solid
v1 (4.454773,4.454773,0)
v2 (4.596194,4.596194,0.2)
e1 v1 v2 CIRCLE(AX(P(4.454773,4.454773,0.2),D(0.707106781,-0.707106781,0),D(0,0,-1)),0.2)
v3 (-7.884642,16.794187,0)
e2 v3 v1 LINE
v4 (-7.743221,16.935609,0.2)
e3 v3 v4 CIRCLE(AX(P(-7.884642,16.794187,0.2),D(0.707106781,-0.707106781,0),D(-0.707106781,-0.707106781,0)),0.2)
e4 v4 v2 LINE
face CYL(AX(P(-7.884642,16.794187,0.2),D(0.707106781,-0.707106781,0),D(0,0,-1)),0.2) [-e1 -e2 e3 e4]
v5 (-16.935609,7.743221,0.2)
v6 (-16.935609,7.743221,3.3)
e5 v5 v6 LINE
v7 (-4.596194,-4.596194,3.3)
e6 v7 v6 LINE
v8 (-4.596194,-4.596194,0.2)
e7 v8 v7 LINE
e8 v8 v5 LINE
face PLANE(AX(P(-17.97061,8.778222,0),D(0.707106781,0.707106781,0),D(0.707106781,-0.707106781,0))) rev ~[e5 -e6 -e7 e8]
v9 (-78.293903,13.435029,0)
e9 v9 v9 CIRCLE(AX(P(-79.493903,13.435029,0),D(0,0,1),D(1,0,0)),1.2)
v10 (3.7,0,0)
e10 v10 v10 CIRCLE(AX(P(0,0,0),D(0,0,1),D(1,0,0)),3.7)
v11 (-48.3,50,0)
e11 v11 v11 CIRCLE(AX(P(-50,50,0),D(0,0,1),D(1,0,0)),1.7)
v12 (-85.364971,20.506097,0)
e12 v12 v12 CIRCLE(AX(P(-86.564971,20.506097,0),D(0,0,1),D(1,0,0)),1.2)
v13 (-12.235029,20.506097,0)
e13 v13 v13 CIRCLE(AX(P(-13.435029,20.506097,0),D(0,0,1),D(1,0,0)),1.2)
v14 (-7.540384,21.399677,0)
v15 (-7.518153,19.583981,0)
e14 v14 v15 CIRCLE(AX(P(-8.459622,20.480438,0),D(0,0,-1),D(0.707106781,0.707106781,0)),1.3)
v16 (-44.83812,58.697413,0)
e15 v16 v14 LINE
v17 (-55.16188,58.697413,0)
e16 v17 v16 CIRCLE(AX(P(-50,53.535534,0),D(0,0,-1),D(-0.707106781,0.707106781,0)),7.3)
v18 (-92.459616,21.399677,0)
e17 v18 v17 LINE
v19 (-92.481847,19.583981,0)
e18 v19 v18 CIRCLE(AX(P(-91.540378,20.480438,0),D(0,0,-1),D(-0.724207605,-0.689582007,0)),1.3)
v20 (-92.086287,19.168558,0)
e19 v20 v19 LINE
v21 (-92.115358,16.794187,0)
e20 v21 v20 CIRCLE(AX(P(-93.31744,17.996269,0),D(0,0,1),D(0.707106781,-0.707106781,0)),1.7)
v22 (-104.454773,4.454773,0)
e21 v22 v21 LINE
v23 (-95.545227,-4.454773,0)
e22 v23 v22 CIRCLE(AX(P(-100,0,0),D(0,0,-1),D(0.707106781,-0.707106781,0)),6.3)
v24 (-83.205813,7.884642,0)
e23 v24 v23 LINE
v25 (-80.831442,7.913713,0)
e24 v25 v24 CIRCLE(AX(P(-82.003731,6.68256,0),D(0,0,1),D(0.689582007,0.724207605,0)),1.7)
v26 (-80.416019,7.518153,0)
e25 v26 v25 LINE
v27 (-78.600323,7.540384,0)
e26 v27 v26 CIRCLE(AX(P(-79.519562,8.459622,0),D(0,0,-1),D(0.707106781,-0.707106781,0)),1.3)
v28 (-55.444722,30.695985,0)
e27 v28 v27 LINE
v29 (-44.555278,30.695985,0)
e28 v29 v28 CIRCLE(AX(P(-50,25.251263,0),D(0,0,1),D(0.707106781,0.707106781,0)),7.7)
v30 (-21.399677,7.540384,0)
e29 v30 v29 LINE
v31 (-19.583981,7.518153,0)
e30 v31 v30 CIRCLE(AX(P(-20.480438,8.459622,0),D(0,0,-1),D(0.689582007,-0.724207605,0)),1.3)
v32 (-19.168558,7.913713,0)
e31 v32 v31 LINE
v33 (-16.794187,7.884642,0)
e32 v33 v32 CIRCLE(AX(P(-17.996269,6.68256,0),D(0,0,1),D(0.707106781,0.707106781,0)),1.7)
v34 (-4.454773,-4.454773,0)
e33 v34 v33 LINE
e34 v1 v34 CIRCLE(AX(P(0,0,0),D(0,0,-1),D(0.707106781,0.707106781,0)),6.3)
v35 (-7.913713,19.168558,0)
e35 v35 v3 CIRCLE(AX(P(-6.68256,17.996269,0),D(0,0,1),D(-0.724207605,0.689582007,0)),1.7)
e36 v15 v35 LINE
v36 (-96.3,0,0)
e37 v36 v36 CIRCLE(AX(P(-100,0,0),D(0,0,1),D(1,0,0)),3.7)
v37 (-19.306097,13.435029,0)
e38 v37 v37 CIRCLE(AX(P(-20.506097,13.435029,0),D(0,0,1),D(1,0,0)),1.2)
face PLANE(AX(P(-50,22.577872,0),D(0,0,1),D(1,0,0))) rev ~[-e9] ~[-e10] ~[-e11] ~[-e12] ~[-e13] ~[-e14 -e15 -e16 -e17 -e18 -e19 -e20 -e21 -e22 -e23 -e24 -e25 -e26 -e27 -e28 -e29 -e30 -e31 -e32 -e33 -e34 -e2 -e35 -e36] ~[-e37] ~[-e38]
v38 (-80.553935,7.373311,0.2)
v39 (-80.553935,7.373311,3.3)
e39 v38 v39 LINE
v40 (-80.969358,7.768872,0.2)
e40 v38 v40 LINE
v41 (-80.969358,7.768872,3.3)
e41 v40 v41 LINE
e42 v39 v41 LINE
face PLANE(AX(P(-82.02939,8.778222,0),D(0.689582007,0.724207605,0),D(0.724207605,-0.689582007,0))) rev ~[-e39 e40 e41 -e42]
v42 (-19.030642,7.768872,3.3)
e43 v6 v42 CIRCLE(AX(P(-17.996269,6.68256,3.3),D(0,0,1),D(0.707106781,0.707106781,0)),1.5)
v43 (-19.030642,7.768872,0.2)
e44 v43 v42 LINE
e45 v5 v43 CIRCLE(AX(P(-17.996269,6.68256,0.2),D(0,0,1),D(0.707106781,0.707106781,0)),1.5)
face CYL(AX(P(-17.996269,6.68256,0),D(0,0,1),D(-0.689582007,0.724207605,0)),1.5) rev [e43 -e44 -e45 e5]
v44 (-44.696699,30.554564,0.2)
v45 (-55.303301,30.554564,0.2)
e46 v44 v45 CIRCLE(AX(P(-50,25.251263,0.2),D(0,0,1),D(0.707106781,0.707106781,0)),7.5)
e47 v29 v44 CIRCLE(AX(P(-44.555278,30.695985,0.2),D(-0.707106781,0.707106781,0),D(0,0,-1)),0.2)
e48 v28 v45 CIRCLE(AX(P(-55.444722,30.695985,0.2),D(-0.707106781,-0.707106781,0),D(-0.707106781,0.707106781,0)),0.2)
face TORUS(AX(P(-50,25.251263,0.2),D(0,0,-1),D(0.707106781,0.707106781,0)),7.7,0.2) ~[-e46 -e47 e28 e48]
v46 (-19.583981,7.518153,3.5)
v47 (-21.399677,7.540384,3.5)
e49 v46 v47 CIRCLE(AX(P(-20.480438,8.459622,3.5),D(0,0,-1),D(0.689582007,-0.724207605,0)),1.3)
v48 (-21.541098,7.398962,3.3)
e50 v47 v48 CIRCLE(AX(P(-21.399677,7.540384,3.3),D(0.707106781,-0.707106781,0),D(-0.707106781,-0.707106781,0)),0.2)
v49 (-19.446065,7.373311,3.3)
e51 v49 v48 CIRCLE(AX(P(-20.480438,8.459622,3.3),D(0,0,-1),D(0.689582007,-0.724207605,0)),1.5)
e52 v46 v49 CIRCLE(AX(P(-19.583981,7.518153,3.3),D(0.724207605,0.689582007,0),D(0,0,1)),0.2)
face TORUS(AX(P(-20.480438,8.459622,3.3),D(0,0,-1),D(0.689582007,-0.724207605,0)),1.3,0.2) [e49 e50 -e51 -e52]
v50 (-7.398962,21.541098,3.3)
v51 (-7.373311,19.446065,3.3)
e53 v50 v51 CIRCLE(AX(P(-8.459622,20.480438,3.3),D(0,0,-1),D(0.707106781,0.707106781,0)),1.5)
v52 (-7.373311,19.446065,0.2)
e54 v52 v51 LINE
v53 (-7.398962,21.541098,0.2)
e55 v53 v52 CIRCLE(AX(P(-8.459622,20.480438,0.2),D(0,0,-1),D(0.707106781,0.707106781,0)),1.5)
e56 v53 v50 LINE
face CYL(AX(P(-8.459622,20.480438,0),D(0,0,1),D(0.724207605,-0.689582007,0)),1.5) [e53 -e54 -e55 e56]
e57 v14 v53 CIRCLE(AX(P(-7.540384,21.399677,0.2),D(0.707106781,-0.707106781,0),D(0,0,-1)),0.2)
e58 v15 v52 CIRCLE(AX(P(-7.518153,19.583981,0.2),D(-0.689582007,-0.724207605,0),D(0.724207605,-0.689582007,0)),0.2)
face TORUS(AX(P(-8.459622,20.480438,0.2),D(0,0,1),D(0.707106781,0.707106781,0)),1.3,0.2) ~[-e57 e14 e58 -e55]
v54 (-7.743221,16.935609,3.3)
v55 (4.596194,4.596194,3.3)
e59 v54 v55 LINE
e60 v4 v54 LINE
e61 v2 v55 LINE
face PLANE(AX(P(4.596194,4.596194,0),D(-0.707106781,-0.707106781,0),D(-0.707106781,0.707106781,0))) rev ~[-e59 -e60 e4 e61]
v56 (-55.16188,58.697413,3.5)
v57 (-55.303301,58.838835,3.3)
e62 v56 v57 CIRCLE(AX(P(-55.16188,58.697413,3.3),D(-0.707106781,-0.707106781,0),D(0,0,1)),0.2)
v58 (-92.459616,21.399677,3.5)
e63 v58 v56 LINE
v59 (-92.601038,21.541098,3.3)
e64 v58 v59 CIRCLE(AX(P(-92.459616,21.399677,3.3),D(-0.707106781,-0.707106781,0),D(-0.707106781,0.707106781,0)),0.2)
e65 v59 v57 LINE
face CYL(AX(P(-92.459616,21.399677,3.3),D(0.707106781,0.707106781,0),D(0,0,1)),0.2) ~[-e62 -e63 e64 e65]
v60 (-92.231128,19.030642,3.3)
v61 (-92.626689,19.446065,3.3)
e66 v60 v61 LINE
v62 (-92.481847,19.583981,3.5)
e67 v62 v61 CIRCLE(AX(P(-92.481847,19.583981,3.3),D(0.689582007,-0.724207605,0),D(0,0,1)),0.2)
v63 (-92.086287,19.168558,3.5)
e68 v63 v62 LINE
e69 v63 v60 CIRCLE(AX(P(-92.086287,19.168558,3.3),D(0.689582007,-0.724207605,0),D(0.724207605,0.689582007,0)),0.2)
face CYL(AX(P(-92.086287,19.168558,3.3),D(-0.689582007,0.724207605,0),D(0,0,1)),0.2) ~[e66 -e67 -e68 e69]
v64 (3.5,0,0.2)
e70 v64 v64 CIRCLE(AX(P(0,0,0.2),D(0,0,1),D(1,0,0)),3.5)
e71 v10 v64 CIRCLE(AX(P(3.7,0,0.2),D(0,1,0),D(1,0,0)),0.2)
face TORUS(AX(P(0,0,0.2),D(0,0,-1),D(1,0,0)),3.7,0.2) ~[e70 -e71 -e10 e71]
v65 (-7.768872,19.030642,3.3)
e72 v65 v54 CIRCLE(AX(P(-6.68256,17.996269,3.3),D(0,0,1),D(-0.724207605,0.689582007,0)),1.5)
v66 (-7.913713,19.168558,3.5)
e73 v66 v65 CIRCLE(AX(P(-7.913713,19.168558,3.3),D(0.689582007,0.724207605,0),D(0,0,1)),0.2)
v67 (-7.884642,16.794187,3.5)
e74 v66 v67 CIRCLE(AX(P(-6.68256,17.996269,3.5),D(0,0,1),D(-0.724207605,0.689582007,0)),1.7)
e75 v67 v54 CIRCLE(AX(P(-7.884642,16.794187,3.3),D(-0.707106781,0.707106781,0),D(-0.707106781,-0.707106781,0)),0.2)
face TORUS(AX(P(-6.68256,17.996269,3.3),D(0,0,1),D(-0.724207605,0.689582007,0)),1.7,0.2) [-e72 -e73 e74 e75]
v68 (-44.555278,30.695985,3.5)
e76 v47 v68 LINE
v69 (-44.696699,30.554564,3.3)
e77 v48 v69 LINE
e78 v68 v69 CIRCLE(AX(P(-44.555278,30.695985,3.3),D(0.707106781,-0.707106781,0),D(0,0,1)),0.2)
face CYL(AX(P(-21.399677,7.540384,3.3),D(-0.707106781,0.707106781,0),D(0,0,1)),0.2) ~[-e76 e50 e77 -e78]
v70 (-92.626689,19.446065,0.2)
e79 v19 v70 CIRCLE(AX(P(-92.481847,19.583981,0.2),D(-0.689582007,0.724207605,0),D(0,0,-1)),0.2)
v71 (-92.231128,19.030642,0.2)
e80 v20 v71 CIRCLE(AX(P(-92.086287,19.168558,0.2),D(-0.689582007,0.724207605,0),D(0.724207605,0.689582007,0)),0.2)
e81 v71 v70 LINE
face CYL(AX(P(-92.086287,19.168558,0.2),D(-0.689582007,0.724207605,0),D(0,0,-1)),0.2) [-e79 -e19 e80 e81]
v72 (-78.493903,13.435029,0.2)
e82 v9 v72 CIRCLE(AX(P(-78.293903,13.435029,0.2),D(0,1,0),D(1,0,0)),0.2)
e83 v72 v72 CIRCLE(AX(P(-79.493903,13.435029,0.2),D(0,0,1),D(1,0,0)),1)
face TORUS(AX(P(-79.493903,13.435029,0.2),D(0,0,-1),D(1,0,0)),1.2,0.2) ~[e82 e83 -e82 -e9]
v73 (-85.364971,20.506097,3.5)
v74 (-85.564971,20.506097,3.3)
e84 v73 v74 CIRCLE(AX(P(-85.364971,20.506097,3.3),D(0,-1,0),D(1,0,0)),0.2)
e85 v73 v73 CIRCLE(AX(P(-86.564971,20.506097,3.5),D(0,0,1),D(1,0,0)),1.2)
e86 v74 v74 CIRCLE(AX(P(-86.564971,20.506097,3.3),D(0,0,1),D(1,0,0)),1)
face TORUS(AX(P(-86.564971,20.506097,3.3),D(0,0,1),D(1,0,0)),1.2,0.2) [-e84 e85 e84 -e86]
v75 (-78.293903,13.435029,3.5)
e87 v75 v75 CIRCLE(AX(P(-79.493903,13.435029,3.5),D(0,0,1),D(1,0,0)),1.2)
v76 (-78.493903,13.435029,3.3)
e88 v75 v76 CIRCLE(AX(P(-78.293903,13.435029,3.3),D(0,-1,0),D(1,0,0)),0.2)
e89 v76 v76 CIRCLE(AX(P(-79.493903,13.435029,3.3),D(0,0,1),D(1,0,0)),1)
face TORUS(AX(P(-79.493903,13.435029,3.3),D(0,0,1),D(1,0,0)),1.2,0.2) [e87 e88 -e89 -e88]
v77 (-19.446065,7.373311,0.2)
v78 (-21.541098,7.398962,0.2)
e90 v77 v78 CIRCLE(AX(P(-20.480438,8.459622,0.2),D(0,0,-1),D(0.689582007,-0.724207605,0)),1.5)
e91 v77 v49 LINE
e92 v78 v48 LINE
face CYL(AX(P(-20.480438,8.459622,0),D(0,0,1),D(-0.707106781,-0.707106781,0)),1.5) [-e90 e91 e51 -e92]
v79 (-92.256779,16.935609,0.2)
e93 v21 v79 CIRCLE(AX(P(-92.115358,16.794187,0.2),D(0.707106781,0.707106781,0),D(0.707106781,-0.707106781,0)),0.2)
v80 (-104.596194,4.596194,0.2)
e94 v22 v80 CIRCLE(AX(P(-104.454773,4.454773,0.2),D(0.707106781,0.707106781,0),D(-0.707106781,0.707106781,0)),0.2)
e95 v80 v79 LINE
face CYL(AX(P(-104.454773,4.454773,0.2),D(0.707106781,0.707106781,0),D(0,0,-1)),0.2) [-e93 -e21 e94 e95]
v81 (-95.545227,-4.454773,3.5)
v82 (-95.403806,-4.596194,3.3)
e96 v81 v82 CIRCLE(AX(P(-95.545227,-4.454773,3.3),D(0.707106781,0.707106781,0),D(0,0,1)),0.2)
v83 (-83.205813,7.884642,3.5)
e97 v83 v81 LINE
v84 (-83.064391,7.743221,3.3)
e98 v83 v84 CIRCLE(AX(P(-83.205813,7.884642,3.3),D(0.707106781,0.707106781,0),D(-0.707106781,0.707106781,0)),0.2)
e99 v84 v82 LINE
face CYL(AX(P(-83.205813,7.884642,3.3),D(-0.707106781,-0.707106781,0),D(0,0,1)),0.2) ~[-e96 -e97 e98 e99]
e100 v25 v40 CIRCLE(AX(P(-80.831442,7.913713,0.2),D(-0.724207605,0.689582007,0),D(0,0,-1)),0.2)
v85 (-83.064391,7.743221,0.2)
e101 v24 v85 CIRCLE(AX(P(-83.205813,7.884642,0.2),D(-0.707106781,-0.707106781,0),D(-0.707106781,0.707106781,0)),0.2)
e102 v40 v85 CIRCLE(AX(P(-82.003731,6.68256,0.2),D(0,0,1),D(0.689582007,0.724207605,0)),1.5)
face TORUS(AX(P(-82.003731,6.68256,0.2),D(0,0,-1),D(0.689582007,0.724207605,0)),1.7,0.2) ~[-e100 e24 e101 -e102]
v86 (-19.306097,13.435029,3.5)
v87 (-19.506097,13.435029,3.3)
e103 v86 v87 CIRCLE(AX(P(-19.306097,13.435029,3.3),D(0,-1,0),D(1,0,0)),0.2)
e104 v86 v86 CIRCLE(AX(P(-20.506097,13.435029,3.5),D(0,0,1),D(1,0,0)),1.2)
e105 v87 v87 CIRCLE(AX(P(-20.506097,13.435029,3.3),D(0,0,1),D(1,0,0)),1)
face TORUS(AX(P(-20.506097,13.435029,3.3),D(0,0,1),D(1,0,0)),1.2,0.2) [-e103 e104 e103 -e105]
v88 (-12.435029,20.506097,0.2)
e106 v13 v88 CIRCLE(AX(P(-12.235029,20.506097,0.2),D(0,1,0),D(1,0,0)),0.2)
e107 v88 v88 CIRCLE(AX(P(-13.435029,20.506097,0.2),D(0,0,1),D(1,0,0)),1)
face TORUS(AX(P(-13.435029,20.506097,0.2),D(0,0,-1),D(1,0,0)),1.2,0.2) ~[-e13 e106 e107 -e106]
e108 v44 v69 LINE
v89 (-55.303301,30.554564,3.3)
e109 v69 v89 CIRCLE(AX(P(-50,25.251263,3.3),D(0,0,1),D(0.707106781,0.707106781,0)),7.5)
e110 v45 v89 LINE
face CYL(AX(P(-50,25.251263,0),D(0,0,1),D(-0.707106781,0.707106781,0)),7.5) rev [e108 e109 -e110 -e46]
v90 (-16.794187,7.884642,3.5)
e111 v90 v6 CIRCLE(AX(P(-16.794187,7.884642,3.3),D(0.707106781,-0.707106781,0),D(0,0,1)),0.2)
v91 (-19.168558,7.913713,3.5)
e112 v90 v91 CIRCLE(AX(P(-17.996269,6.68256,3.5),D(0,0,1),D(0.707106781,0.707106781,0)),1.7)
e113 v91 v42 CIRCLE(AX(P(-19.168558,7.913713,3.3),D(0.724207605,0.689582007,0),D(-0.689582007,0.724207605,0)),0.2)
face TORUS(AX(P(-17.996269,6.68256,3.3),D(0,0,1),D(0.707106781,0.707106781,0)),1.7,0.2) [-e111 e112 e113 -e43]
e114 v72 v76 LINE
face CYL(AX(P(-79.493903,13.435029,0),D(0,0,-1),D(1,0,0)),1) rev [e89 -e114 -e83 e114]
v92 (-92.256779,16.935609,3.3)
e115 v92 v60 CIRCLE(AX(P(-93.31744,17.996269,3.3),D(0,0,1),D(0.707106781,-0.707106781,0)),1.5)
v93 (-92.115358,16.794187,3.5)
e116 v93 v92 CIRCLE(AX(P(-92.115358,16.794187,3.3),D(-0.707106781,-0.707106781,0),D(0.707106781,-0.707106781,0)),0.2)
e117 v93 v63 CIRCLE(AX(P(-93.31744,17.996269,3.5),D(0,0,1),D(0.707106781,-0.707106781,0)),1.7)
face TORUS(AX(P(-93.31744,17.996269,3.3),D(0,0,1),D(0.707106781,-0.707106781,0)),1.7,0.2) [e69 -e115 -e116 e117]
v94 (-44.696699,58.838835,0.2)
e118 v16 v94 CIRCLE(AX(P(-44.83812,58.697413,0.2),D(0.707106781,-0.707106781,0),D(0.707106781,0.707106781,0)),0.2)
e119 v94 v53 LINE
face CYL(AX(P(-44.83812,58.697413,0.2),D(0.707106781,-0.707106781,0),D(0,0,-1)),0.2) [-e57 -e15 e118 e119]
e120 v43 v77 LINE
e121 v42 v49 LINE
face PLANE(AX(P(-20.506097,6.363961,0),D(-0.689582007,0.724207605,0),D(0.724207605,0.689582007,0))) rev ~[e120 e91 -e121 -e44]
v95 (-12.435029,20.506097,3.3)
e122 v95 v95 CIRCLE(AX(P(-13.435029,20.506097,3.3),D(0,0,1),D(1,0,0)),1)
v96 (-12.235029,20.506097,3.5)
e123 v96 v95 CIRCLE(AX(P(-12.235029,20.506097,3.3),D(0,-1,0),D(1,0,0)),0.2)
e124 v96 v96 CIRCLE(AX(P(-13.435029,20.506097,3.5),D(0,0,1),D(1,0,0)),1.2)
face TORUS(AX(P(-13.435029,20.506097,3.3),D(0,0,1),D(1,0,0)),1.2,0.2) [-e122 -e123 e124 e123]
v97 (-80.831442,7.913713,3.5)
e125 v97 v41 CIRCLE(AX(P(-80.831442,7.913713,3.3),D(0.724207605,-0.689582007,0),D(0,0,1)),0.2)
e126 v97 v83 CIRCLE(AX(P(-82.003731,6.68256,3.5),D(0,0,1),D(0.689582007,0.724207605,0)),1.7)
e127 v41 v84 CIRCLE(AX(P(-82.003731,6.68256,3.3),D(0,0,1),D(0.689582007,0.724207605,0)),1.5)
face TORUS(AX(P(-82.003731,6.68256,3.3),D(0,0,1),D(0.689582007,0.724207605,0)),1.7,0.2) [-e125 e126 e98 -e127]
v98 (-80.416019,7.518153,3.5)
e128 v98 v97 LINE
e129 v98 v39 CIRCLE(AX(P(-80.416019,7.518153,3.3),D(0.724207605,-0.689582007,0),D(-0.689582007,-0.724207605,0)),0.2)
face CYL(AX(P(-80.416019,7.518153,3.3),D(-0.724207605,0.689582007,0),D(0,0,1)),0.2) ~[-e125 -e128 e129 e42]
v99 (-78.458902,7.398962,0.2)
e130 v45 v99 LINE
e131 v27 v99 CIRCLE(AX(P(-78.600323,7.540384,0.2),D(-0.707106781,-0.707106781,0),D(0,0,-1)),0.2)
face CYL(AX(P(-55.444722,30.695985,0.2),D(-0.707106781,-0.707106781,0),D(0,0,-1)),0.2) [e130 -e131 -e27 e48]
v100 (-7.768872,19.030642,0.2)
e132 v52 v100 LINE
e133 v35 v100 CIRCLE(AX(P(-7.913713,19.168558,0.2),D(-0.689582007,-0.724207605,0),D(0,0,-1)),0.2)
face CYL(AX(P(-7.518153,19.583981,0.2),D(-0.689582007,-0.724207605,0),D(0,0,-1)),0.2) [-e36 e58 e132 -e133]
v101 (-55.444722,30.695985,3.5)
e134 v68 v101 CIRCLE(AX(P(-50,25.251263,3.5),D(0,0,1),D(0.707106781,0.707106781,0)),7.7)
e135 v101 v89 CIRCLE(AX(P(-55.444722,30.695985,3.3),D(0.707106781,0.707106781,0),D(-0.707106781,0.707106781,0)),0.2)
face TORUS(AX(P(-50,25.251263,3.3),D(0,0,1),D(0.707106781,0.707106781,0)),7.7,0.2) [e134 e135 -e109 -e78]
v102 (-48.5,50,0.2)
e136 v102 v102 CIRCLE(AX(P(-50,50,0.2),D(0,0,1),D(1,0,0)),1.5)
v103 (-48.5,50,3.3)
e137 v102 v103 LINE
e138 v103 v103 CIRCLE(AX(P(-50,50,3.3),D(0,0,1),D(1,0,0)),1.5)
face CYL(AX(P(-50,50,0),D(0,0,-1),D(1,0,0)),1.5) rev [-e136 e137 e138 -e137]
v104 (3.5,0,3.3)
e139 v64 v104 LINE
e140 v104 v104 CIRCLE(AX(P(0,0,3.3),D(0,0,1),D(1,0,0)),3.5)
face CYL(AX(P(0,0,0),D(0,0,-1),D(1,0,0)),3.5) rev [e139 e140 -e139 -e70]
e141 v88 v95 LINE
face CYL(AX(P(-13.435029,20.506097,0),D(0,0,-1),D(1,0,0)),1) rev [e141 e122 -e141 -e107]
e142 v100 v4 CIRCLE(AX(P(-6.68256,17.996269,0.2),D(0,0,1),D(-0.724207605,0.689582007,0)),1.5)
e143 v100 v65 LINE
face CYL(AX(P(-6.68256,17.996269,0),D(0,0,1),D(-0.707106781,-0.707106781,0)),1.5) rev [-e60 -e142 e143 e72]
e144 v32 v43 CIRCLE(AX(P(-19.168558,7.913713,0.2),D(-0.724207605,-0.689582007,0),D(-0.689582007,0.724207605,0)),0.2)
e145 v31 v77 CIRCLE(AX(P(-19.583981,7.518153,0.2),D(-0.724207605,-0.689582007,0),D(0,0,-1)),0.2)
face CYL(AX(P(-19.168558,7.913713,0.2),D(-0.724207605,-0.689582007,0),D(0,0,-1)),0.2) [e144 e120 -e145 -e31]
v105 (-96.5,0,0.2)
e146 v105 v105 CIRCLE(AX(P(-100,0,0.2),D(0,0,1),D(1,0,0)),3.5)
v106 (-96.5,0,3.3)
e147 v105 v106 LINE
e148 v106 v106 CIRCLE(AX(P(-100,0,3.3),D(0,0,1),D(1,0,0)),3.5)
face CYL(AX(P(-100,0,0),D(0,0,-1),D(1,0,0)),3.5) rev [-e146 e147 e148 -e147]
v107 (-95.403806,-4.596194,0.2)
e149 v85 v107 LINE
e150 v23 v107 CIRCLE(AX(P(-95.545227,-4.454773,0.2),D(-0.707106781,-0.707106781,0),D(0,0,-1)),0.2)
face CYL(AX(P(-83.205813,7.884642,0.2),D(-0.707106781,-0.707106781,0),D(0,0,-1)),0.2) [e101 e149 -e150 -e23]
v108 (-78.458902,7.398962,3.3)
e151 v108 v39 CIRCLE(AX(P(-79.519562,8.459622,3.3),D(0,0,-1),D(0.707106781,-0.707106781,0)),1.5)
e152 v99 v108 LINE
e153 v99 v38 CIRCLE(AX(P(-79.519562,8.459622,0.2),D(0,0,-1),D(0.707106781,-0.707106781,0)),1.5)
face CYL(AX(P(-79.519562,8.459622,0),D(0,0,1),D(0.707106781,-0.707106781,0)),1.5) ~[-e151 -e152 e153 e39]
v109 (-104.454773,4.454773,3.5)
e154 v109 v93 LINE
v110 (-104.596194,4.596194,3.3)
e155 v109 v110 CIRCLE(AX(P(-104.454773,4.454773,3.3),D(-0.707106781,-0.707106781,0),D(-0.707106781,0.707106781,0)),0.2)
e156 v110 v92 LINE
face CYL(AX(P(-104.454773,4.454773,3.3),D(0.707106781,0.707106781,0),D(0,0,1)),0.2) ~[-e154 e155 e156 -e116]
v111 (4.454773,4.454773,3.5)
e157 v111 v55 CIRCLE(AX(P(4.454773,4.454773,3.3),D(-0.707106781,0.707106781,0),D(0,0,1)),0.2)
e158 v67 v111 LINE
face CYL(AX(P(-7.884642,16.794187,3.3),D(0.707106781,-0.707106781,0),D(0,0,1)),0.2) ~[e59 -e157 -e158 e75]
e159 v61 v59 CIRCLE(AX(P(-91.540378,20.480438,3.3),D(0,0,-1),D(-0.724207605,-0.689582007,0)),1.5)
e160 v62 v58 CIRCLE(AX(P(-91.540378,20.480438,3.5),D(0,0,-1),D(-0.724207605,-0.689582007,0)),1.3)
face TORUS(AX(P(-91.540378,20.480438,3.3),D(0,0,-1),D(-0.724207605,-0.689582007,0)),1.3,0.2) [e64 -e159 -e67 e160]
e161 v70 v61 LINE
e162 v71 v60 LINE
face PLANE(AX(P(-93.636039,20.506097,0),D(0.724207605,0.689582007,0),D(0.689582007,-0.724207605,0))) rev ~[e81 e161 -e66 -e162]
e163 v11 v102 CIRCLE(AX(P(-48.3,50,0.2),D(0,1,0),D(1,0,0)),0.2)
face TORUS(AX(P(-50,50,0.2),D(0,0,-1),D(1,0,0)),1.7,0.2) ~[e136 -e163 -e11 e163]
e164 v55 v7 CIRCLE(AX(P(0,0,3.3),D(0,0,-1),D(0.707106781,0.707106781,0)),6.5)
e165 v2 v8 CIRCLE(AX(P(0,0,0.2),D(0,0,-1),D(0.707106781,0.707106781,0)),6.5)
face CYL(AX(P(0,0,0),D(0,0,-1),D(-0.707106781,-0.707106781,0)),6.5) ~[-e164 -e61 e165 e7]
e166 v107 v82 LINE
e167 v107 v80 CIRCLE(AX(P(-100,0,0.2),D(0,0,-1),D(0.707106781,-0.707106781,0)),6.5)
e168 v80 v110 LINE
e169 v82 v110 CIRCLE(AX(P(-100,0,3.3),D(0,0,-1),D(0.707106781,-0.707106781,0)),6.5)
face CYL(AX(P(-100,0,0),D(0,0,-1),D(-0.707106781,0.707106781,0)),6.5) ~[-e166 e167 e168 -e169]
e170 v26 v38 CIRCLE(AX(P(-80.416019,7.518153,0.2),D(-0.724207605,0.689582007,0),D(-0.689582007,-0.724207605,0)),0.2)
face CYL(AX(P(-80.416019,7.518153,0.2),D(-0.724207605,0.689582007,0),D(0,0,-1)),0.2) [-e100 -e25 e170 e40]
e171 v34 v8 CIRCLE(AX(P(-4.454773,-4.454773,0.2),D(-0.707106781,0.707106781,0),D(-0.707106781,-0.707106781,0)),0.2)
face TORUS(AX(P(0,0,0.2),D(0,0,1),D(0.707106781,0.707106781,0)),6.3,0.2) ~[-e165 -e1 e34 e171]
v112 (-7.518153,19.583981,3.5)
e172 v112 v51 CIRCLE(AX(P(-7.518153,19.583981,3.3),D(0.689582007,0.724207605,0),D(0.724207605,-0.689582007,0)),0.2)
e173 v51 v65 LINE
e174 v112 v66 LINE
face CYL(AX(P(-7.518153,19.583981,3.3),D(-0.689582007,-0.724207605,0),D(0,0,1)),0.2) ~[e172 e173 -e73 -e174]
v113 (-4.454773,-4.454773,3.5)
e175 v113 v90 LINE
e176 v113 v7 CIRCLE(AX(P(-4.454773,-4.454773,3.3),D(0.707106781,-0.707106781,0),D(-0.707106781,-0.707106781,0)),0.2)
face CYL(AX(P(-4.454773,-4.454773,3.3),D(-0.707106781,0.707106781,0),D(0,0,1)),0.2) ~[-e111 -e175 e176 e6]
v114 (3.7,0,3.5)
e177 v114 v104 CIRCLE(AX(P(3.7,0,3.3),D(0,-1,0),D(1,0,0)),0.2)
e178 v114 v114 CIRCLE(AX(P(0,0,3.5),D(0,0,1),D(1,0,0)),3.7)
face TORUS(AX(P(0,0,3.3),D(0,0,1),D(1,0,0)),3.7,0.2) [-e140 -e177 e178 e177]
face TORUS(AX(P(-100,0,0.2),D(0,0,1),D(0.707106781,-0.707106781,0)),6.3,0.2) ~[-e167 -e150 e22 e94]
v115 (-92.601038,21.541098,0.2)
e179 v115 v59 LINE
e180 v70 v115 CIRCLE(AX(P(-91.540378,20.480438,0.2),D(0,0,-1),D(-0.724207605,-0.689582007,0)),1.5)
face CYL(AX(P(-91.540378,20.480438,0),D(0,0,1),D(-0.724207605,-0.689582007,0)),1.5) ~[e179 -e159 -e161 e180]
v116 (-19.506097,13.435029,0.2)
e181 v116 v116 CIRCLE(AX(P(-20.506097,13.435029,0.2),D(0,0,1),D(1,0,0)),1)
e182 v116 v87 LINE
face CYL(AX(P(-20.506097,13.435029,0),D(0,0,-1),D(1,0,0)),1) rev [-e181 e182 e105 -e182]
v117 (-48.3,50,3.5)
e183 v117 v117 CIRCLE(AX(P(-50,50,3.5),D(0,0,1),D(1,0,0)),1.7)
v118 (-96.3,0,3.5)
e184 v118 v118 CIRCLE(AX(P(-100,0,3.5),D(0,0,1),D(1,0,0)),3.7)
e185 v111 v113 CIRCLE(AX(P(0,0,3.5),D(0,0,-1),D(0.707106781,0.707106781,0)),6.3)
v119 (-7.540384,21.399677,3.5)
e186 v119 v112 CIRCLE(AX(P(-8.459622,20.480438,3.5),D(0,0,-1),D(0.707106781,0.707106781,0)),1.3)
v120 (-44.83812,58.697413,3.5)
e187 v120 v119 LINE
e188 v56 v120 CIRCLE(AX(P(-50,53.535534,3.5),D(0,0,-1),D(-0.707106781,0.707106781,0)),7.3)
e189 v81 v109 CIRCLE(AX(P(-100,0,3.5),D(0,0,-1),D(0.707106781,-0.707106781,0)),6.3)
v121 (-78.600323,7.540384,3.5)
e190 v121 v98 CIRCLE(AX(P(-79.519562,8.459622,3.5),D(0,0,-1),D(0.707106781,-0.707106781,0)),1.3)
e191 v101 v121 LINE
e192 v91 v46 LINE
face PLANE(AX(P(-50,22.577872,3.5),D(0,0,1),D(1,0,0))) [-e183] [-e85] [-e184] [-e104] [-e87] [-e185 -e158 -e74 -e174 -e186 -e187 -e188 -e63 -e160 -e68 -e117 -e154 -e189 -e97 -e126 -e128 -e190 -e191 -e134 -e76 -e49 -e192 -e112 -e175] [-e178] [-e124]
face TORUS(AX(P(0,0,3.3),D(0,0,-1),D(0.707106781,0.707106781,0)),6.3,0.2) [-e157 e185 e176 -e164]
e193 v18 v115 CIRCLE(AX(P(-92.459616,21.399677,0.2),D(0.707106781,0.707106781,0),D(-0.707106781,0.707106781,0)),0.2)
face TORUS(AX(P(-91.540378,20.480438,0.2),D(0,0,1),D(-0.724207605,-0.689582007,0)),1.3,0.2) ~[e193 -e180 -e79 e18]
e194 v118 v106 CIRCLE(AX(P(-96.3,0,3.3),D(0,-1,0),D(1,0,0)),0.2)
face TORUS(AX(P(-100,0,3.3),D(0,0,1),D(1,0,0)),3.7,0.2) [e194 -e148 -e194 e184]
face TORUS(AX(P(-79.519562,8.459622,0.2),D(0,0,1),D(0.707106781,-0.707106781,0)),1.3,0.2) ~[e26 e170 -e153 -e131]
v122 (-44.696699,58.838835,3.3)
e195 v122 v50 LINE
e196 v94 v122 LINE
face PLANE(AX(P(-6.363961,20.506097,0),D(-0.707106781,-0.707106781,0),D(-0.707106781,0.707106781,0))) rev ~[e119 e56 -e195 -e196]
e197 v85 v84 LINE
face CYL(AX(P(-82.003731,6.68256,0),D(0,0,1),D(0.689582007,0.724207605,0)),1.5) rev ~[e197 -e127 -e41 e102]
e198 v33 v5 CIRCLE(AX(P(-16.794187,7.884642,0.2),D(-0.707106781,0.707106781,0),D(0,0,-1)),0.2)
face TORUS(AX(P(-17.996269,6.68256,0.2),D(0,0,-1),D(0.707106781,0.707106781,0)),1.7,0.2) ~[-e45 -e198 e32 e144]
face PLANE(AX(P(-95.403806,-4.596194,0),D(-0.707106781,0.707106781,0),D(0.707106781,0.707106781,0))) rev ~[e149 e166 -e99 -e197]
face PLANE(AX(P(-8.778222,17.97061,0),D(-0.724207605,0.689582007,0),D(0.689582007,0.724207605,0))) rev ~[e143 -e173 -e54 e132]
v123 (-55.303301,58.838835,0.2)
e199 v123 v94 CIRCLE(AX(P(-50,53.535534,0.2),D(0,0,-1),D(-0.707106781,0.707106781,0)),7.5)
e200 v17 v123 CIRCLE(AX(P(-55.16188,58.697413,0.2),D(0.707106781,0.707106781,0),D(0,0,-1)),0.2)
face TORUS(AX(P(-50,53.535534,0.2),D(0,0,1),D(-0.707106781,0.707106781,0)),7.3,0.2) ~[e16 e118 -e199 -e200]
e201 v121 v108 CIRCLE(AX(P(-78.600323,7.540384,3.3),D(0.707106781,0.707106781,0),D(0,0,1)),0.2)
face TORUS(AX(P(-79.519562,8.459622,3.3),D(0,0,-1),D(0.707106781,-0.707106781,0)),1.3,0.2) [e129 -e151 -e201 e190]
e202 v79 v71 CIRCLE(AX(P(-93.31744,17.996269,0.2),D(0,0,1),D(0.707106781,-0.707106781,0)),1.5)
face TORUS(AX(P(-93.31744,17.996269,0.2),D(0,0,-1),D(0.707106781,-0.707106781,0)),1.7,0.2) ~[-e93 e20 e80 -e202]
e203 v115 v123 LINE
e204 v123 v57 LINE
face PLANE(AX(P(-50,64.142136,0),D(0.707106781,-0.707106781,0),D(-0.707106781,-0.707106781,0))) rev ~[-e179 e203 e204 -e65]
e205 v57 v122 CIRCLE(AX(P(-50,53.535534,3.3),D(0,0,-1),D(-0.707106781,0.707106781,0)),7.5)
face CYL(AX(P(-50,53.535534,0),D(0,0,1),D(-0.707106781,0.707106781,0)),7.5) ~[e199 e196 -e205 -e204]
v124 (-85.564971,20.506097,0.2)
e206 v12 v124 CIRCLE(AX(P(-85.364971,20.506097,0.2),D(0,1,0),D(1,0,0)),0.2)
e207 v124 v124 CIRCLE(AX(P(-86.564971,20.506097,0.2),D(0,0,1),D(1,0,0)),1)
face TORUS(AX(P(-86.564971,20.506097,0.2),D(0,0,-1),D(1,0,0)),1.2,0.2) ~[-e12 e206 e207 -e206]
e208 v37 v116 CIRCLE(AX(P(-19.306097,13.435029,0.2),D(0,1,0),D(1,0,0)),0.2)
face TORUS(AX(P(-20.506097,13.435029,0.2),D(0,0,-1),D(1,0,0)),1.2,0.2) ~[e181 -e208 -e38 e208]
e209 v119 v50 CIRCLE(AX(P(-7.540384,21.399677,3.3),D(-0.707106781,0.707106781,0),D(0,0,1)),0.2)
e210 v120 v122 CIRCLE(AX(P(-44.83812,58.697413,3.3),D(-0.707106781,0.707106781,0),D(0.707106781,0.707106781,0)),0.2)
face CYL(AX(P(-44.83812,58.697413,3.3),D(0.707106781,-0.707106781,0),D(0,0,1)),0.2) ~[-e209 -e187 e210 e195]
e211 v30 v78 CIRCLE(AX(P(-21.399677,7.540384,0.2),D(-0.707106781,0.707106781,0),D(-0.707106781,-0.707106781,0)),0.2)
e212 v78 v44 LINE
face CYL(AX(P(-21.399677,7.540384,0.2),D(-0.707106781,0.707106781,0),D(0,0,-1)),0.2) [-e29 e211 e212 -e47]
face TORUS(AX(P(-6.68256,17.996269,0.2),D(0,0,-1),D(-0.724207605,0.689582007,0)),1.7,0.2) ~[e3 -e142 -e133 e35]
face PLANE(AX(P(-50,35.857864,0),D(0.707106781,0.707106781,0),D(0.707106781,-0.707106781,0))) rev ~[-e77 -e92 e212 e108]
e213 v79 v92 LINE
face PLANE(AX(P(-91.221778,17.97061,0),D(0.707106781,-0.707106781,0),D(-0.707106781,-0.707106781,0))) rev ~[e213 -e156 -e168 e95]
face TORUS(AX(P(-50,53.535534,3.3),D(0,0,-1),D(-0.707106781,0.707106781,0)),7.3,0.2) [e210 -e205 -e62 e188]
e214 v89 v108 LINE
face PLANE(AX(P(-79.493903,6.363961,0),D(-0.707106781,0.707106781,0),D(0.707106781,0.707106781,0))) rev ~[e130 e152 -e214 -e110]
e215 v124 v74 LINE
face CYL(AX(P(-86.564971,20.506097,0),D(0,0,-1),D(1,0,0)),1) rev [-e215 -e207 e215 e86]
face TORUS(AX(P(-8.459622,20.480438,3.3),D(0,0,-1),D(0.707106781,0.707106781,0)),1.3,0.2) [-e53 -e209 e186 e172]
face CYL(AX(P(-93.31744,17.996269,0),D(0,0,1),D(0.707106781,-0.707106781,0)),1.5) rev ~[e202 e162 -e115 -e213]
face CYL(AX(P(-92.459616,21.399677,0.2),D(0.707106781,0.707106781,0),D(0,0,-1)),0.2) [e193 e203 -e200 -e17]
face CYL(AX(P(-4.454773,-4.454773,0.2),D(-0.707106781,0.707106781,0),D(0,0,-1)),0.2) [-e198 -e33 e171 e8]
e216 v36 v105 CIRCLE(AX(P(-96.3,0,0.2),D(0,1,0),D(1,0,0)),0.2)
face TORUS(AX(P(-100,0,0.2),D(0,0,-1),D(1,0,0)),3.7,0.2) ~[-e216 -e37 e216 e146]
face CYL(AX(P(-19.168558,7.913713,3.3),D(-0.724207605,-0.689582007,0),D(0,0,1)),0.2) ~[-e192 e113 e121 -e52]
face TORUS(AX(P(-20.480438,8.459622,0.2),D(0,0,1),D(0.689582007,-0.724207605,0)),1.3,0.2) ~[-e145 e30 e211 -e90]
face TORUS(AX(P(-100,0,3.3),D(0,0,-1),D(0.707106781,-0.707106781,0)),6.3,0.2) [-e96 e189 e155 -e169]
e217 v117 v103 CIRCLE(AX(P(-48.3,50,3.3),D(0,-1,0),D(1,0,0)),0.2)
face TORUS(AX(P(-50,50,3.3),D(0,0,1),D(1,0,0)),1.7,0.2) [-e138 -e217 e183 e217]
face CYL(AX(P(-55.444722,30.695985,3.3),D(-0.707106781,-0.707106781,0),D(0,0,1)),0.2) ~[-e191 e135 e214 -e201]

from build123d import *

# Parameters (mm, degrees)
SKETCH5_R           = 3.5
SKETCH5_R_2         = 1
SKETCH5_R_3         = 1.5
BOSS_EXTRUDE1_DEPTH = 3.5
FILLET1_R           = 7.5
FILLET2_R           = 1.5
FILLET3_R           = 0.2


with BuildPart() as part:
    # Sketch5 → Boss-Extrude1 (new body)
    with BuildSketch(Plane.XY):
        with BuildLine():
            Line((-95.403805922, -4.596194078), (-82.029390047, 8.778221797))
            Line((-82.029390047, 8.778221797), (-79.493903346, 6.363961031))
            Line((-79.493903346, 6.363961031), (-50, 35.857864376))
            Line((-50, 35.857864376), (-20.506096654, 6.363961031))
            Line((-20.506096654, 6.363961031), (-17.970609953, 8.778221797))
            Line((-17.970609953, 8.778221797), (-4.596194078, -4.596194078))
            ThreePointArc((-4.596194078, -4.596194078), (4.596194078, -4.596194078), (4.596194078, 4.596194078))
            Line((4.596194078, 4.596194078), (-8.778221797, 17.970609953))
            Line((-8.778221797, 17.970609953), (-6.363961031, 20.506096654))
            Line((-6.363961031, 20.506096654), (-50, 64.142135624))
            Line((-50, 64.142135624), (-93.636038969, 20.506096654))
            Line((-93.636038969, 20.506096654), (-91.221778203, 17.970609953))
            Line((-91.221778203, 17.970609953), (-104.596194078, 4.596194078))
            ThreePointArc((-104.596194078, 4.596194078), (-104.596194078, -4.596194078), (-95.403805922, -4.596194078))
        make_face()
        Circle(SKETCH5_R, mode=Mode.SUBTRACT)
        with Locations((-100, 0)):
            Circle(SKETCH5_R, mode=Mode.SUBTRACT)
        with Locations((-86.564971157, 20.506096654)):
            Circle(SKETCH5_R_2, mode=Mode.SUBTRACT)
        with Locations((-50, 50)):
            Circle(SKETCH5_R_3, mode=Mode.SUBTRACT)
        with Locations((-13.435028843, 20.506096654)):
            Circle(SKETCH5_R_2, mode=Mode.SUBTRACT)
        with Locations((-20.506096654, 13.435028843)):
            Circle(SKETCH5_R_2, mode=Mode.SUBTRACT)
        with Locations((-79.493903346, 13.435028843)):
            Circle(SKETCH5_R_2, mode=Mode.SUBTRACT)
    extrude(amount=BOSS_EXTRUDE1_DEPTH)

    # Fillet1
    fillet1_edges = [part.edges().sort_by_distance(p)[0] for p in [
        (-50, 64.142135624, 1.75),
        (-50, 35.857864376, 1.75),
    ]]
    fillet(fillet1_edges, radius=FILLET1_R)

    # Fillet2
    fillet2_edges = [part.edges().sort_by_distance(p)[0] for p in [
        (-93.636038969, 20.506096654, 1.75),
        (-6.363961031, 20.506096654, 1.75),
        (-8.778221797, 17.970609953, 1.75),
        (-17.970609953, 8.778221797, 1.75),
        (-20.506096654, 6.363961031, 1.75),
        (-79.493903346, 6.363961031, 1.75),
        (-82.029390047, 8.778221797, 1.75),
        (-91.221778203, 17.970609953, 1.75),
    ]]
    fillet(fillet2_edges, radius=FILLET2_R)

    # Fillet3
    fillet3_edges = [part.edges().sort_by_distance(p)[0] for p in [
        (-91.817552039, 17.977904508, 0),
        (-91.817552039, 17.977904508, 3.5),
        (-82.022095492, 8.182447961, 0),
        (-82.022095492, 8.182447961, 3.5),
        (-17.977904508, 8.182447961, 0),
        (-17.977904508, 8.182447961, 3.5),
        (-8.182447961, 17.977904508, 0),
        (-8.182447961, 17.977904508, 3.5),
        (-104.596194078, -4.596194078, 3.5),
        (-1.573513238, 10.765901393, 0),
        (4.596194078, -4.596194078, 0),
        (-89.234098607, 1.573513238, 3.5),
        (-89.234098607, 1.573513238, 0),
        (-104.596194078, -4.596194078, 0),
        (-3.5, 0, 0),
        (-3.5, 0, 3.5),
        (-103.5, 0, 0),
        (-103.5, 0, 3.5),
        (4.596194078, -4.596194078, 3.5),
        (-87.564971157, 20.506096654, 0),
        (-87.564971157, 20.506096654, 3.5),
        (-1.573513238, 10.765901393, 3.5),
        (-51.5, 50, 0),
        (-51.5, 50, 3.5),
        (-14.435028843, 20.506096654, 0),
        (-14.435028843, 20.506096654, 3.5),
        (-21.506096654, 13.435028843, 0),
        (-21.506096654, 13.435028843, 3.5),
        (-80.493903346, 13.435028843, 0),
        (-80.493903346, 13.435028843, 3.5),
        (-33.11889852, 18.976762896, 0),
        (-33.11889852, 18.976762896, 3.5),
        (-73.952169292, 40.189966331, 0),
        (-73.952169292, 40.189966331, 3.5),
        (-50, 61.035533906, 0),
        (-50, 61.035533906, 3.5),
        (-50, 32.751262658, 0),
        (-50, 32.751262658, 3.5),
        (-98.426486762, 10.765901393, 0),
        (-98.426486762, 10.765901393, 3.5),
        (-92.428908586, 19.238353304, 0),
        (-92.428908586, 19.238353304, 3.5),
        (-26.047830708, 40.189966331, 0),
        (-7.571091414, 19.238353304, 0),
        (-10.765901393, 1.573513238, 0),
        (-19.238353304, 7.571091414, 0),
        (-66.88110148, 18.976762896, 0),
        (-80.761646696, 7.571091414, 0),
        (-6.959734867, 20.498802099, 0),
        (-20.498802099, 6.959734867, 0),
        (-79.501197901, 6.959734867, 0),
        (-93.040265133, 20.498802099, 0),
        (-26.047830708, 40.189966331, 3.5),
        (-80.761646696, 7.571091414, 3.5),
        (-66.88110148, 18.976762896, 3.5),
        (-19.238353304, 7.571091414, 3.5),
        (-10.765901393, 1.573513238, 3.5),
        (-7.571091414, 19.238353304, 3.5),
        (-6.959734867, 20.498802099, 3.5),
        (-20.498802099, 6.959734867, 3.5),
        (-79.501197901, 6.959734867, 3.5),
        (-93.040265133, 20.498802099, 3.5),
    ]]
    fillet(fillet3_edges, radius=FILLET3_R)


solid = part.part
